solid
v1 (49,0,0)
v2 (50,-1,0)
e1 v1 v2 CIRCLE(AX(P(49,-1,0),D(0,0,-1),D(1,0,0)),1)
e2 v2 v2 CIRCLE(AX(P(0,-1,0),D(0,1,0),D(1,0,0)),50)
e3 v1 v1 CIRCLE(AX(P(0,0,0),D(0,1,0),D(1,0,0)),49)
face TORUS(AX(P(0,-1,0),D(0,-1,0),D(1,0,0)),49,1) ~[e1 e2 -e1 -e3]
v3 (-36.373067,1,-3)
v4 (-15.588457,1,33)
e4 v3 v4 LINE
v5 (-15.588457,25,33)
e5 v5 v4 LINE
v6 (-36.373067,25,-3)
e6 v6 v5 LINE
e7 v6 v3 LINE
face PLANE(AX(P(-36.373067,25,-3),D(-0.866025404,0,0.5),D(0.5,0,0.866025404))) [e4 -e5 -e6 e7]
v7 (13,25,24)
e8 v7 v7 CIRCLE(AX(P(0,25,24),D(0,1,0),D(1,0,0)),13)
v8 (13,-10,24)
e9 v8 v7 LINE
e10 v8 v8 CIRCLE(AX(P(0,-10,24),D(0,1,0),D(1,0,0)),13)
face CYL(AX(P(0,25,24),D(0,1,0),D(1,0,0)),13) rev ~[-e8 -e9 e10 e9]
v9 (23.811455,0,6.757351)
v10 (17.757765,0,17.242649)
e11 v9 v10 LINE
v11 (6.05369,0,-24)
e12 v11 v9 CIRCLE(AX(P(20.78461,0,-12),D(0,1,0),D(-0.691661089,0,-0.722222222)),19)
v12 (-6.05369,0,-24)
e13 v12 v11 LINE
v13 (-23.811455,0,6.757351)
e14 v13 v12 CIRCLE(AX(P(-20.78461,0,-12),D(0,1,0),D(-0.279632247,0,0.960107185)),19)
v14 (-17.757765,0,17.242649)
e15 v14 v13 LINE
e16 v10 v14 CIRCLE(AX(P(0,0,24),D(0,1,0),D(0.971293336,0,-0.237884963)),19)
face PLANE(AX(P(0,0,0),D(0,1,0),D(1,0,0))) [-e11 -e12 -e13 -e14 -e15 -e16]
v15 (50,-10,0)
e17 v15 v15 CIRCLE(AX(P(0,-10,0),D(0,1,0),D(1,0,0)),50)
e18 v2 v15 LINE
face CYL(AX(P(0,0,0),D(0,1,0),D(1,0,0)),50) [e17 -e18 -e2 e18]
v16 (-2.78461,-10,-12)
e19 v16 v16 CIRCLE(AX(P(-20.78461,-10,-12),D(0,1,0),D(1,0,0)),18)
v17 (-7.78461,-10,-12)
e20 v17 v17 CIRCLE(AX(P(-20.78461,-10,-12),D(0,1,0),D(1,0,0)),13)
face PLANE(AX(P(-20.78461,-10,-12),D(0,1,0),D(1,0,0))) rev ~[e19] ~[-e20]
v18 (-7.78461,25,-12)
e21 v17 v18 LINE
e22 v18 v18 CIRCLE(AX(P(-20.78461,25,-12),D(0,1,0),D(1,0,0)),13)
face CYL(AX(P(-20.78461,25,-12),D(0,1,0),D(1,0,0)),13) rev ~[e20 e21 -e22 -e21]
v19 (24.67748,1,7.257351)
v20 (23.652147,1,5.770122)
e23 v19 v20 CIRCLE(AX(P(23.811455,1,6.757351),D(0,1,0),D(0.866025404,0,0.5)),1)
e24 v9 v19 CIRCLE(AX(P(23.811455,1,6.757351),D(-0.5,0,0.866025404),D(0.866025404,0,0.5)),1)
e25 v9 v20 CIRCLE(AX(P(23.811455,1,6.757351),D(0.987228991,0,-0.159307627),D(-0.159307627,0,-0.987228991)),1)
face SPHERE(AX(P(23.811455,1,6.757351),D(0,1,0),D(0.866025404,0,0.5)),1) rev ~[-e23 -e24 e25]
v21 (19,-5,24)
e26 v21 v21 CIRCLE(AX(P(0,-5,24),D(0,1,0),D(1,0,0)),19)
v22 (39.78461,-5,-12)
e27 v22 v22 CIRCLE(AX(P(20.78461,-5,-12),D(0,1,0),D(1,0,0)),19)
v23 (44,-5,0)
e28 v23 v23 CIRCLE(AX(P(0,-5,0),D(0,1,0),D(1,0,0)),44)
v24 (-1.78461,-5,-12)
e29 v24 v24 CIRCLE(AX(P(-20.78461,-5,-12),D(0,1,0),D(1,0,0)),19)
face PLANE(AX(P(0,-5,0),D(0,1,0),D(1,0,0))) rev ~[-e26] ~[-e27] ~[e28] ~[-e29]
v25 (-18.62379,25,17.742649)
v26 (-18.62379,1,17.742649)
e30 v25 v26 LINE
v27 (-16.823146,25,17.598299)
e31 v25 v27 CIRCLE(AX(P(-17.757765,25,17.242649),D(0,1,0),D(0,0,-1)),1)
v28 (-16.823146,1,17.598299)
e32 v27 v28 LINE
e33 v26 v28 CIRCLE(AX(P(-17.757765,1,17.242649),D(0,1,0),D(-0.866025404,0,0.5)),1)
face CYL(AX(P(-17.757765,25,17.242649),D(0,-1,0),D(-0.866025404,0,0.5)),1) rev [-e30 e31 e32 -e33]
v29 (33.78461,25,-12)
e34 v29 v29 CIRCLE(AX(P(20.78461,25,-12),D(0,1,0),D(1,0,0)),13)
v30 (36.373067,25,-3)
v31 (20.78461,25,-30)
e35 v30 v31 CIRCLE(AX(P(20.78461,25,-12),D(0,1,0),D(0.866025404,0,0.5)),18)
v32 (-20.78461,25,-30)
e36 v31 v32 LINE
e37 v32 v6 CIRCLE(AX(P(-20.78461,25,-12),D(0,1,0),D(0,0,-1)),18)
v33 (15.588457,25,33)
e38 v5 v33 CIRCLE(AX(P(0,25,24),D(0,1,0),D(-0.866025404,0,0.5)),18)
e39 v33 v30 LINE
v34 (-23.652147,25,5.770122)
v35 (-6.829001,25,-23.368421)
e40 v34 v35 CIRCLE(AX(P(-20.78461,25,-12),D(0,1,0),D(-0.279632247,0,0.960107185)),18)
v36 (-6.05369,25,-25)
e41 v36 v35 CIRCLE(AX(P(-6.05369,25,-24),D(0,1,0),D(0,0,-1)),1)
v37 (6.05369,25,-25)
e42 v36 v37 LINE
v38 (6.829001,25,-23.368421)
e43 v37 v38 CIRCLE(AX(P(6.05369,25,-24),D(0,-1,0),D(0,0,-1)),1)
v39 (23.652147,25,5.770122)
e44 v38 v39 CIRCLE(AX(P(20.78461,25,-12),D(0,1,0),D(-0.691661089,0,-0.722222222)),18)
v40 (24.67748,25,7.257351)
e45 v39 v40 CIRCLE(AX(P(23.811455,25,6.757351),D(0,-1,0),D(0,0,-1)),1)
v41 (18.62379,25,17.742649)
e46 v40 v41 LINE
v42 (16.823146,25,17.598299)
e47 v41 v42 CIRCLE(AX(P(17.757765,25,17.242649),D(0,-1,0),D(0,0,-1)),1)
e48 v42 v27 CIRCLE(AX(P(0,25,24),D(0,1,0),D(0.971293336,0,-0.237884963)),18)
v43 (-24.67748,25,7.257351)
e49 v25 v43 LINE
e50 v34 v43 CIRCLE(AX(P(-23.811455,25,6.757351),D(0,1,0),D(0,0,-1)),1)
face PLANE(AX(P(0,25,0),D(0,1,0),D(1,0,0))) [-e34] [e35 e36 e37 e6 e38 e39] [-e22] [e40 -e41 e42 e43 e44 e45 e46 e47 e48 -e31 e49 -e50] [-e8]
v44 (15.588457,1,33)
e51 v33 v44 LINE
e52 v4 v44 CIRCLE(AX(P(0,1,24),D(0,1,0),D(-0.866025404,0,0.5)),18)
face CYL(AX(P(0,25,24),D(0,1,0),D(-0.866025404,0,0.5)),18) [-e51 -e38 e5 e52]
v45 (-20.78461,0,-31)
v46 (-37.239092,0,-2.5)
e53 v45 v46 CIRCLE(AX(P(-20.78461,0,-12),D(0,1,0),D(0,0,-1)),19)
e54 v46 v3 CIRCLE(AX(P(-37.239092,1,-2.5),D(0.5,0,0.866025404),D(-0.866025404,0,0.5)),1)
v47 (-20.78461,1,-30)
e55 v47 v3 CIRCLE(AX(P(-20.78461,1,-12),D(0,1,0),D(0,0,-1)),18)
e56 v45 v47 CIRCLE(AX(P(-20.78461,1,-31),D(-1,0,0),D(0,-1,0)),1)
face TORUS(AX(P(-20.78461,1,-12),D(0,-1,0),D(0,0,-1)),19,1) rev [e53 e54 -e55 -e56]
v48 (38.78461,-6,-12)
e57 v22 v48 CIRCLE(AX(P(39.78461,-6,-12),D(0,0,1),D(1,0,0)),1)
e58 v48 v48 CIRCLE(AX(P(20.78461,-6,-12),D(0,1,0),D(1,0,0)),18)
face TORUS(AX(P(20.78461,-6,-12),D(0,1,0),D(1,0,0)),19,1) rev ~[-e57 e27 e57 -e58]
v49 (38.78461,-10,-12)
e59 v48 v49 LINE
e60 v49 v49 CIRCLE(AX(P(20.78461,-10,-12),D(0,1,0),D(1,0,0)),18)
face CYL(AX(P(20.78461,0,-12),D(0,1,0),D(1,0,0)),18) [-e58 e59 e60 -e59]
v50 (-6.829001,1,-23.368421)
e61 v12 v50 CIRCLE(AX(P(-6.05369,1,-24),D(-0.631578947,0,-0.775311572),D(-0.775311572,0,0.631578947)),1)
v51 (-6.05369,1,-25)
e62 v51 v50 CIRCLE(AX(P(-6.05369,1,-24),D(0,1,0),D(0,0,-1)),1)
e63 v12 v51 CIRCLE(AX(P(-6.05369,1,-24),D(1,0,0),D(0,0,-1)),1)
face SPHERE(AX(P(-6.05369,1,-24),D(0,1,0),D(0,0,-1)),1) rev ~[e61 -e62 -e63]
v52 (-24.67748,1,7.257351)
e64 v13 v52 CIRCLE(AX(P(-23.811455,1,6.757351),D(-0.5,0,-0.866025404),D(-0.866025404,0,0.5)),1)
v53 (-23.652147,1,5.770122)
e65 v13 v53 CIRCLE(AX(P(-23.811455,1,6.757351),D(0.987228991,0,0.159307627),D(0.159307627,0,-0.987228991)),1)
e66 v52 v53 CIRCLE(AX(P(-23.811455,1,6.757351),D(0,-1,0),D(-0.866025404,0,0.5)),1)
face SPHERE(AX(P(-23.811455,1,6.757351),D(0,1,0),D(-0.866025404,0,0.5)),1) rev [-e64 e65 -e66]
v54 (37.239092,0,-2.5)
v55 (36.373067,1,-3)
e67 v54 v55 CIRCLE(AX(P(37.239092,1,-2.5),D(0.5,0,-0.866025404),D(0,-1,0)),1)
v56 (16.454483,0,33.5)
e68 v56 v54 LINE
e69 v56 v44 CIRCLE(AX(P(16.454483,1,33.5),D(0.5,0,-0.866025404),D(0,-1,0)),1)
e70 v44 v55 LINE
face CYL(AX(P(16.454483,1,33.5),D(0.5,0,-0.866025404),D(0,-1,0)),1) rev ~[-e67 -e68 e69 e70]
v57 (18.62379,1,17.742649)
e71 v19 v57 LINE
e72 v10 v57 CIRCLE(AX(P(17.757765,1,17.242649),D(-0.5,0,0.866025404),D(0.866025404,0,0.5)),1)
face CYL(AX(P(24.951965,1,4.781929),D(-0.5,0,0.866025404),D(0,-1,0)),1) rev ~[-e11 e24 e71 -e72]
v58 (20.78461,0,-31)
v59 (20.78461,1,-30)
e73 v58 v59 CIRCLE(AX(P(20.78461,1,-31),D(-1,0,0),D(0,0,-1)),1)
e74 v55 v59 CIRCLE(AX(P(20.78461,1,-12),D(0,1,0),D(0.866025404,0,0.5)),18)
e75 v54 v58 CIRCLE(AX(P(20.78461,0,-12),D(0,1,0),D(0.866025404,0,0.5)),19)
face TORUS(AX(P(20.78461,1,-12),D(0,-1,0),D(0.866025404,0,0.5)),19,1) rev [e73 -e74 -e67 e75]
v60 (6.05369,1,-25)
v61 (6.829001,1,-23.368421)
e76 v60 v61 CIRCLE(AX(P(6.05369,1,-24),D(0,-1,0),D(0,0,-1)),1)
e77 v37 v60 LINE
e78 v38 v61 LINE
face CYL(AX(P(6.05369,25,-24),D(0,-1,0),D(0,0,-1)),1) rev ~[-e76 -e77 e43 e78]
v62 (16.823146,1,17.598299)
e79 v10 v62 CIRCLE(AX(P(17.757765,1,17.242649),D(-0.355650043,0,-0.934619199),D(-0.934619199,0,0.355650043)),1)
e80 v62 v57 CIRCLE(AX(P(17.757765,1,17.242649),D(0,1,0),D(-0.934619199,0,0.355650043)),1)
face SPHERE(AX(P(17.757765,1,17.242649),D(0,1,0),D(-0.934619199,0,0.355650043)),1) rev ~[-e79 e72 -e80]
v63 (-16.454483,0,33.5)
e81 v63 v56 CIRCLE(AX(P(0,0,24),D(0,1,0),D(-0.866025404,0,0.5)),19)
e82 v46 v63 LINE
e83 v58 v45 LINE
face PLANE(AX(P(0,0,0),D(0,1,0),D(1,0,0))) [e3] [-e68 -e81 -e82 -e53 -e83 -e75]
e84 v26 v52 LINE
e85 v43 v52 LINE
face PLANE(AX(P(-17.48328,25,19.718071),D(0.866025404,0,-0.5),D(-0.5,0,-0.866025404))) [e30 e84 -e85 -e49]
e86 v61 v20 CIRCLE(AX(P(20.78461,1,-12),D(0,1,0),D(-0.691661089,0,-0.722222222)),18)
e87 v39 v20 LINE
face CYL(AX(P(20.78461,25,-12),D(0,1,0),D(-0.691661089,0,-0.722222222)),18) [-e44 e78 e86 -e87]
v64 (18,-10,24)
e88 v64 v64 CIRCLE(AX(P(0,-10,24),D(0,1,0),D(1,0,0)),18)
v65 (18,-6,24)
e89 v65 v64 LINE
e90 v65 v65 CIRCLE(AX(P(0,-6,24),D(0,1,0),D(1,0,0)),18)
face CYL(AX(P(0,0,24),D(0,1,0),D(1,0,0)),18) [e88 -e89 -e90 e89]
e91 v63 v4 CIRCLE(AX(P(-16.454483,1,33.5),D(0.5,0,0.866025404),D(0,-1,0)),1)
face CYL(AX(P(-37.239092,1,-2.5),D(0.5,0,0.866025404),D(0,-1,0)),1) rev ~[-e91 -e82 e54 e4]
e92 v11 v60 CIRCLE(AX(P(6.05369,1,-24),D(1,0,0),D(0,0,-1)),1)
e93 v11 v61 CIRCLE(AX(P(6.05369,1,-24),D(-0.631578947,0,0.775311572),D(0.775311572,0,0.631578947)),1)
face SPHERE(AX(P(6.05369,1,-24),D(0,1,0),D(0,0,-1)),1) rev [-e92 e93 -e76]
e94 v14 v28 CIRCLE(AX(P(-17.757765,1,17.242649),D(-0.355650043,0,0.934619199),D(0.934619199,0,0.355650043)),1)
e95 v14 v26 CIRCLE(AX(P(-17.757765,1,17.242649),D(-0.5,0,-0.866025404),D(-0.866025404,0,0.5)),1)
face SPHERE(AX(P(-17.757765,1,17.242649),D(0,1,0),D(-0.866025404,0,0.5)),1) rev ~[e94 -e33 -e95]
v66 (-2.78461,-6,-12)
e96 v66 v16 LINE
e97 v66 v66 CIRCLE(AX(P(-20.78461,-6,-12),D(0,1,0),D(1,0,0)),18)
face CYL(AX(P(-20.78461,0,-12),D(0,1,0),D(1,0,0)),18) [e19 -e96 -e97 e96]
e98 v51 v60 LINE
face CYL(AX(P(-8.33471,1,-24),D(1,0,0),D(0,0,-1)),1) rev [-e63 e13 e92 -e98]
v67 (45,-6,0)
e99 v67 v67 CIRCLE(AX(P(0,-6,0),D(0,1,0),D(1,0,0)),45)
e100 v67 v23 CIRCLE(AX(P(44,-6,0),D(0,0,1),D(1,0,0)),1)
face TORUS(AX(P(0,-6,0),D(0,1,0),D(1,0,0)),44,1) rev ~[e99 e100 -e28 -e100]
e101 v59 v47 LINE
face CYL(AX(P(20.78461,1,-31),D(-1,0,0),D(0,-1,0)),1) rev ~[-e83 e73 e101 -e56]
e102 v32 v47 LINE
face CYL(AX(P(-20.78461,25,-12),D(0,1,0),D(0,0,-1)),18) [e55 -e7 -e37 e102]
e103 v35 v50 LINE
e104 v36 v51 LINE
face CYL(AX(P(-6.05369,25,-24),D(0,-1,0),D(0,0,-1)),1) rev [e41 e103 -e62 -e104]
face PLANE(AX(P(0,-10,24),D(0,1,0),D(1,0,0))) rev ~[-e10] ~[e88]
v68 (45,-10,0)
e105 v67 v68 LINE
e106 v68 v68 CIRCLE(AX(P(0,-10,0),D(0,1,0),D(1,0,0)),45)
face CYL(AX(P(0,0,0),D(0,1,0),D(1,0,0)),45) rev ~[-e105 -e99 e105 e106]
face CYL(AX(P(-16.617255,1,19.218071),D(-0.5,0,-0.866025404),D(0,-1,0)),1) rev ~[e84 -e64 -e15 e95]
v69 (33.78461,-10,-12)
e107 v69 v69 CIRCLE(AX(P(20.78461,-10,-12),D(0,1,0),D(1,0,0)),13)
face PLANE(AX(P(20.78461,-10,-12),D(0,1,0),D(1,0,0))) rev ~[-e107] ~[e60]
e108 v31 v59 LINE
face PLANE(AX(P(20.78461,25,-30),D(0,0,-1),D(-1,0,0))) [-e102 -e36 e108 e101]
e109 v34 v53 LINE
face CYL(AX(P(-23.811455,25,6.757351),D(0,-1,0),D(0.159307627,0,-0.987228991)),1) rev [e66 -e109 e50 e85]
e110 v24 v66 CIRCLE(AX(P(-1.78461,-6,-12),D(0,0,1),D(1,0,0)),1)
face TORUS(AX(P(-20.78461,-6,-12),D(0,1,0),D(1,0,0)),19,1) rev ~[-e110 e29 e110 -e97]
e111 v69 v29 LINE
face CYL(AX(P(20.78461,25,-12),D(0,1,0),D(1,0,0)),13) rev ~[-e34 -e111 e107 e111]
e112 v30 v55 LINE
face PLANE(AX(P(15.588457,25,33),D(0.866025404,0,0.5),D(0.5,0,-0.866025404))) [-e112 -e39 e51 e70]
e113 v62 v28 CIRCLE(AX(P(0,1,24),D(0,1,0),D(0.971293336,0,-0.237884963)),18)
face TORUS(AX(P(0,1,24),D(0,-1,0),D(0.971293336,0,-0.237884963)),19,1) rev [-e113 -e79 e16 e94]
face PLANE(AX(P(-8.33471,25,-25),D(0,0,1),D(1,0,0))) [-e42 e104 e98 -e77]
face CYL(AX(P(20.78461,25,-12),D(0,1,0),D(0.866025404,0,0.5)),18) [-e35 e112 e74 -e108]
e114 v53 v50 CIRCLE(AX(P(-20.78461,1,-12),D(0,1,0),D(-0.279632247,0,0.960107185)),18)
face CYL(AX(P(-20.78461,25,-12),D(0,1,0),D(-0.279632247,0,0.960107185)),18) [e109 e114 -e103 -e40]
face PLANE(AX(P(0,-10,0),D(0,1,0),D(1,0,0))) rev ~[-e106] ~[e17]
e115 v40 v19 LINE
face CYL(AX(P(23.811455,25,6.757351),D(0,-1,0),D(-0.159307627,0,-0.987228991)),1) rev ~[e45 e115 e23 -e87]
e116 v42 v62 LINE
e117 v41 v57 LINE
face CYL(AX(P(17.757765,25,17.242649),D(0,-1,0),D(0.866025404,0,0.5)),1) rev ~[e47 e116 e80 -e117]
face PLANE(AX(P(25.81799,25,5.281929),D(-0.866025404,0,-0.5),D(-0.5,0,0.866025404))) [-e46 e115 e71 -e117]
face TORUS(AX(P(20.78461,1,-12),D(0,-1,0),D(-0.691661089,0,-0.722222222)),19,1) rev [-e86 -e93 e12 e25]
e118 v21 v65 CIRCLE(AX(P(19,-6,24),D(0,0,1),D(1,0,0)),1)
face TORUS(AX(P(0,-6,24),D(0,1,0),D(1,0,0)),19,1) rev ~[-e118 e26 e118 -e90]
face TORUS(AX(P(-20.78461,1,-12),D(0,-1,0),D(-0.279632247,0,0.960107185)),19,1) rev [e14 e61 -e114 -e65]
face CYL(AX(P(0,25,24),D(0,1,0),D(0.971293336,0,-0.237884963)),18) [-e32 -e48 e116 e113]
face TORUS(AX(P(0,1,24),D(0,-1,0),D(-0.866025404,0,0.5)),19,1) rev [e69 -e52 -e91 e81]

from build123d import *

# Parameters (mm, degrees)
SKETCH1_R             = 18
SKETCH1_R_2           = 13
BOSS_EXTRUDE6_DEPTH   = 10
BOSS_EXTRUDE6_2_DEPTH = 10
BOSS_EXTRUDE6_3_DEPTH = 10
SKETCH1_R_3           = 50
SKETCH1_R_4           = 45
BOSS_EXTRUDE6_4_DEPTH = 10
SKETCH1_7_R           = 45
SKETCH1_7_R_2         = 18
BOSS_EXTRUDE8_DEPTH   = 5
BOSS_EXTRUDE9_START   = 25
SKETCH1_8_R           = 13
BOSS_EXTRUDE9_DEPTH   = 25
FILLET1_R             = 1


with BuildPart() as part:
    # Sketch1 → Boss-Extrude6 (new body)
    with BuildSketch(Plane(origin=(0, 0, 0), x_dir=(1, 0, 0), z_dir=(0, 1, 0))):
        with Locations((-20.784609691, 12)):
            Circle(SKETCH1_R)
        with Locations((-20.784609691, 12)):
            Circle(SKETCH1_R_2, mode=Mode.SUBTRACT)
    extrude(amount=-BOSS_EXTRUDE6_DEPTH)



with BuildPart() as body_2:
    # Sketch1 → Boss-Extrude6 2 (new body)
    with BuildSketch(Plane(origin=(0, 0, 0), x_dir=(1, 0, 0), z_dir=(0, 1, 0))):
        with Locations((0, -24)):
            Circle(SKETCH1_R)
        with Locations((0, -24)):
            Circle(SKETCH1_R_2, mode=Mode.SUBTRACT)
    extrude(amount=-BOSS_EXTRUDE6_2_DEPTH)


with BuildPart() as body_3:
    # Sketch1 → Boss-Extrude6 3 (new body)
    with BuildSketch(Plane(origin=(0, 0, 0), x_dir=(1, 0, 0), z_dir=(0, 1, 0))):
        with Locations((20.784609691, 12)):
            Circle(SKETCH1_R)
        with Locations((20.784609691, 12)):
            Circle(SKETCH1_R_2, mode=Mode.SUBTRACT)
    extrude(amount=-BOSS_EXTRUDE6_3_DEPTH)


with BuildPart() as body_4:
    # Sketch1 → Boss-Extrude6 4 (new body)
    with BuildSketch(Plane(origin=(0, 0, 0), x_dir=(1, 0, 0), z_dir=(0, 1, 0))):
        Circle(SKETCH1_R_3)
        Circle(SKETCH1_R_4, mode=Mode.SUBTRACT)
    extrude(amount=-BOSS_EXTRUDE6_4_DEPTH)


with BuildPart() as part_1:
    add(part.part)

    add(body_2.part)  # Boss-Extrude8 merges body 2

    add(body_3.part)  # Boss-Extrude8 merges body 3

    add(body_4.part)  # Boss-Extrude8 merges body 4
    # Sketch1<7> → Boss-Extrude8 (add)
    with BuildSketch(Plane(origin=(0, 0, 0), x_dir=(1, 0, 0), z_dir=(0, 1, 0))):
        Circle(SKETCH1_7_R)
        with Locations((-20.784609691, 12)):
            Circle(SKETCH1_7_R_2, mode=Mode.SUBTRACT)
        with Locations((0, -24)):
            Circle(SKETCH1_7_R_2, mode=Mode.SUBTRACT)
        with Locations((20.784609691, 12)):
            Circle(SKETCH1_7_R_2, mode=Mode.SUBTRACT)
    extrude(amount=-BOSS_EXTRUDE8_DEPTH)

    # Sketch1<8> → Boss-Extrude9 (add)
    with BuildSketch(Plane(origin=(0, 0, 0), x_dir=(1, 0, 0), z_dir=(0, 1, 0)).offset(BOSS_EXTRUDE9_START)):
        with BuildLine():
            Line((-36.373066959, 3), (-15.588457268, -33))
            ThreePointArc((-15.588457268, -33), (0, -42), (15.588457268, -33))
            Line((15.588457268, -33), (36.373066959, 3))
            ThreePointArc((36.373066959, 3), (36.373066959, 21), (20.784609691, 30))
            Line((20.784609691, 30), (-20.784609691, 30))
            ThreePointArc((-20.784609691, 30), (-36.373066959, 21), (-36.373066959, 3))
        make_face()
        with BuildLine():
            Line((-17.483280048, -19.718070674), (-25.817990141, -5.281929326))
            ThreePointArc((-25.817990141, -5.281929326), (-5.196152423, 3), (-8.334710093, 25))
            Line((-8.334710093, 25), (8.334710093, 25))
            ThreePointArc((8.334710093, 25), (5.196152423, 3), (25.817990141, -5.281929326))
            Line((25.817990141, -5.281929326), (17.483280048, -19.718070674))
            ThreePointArc((17.483280048, -19.718070674), (0, -6), (-17.483280048, -19.718070674))
        make_face(mode=Mode.SUBTRACT)
        with Locations((-20.784609691, 12)):
            Circle(SKETCH1_8_R, mode=Mode.SUBTRACT)
        with Locations((0, -24)):
            Circle(SKETCH1_8_R, mode=Mode.SUBTRACT)
        with Locations((20.784609691, 12)):
            Circle(SKETCH1_8_R, mode=Mode.SUBTRACT)
    extrude(amount=-BOSS_EXTRUDE9_DEPTH)

    # Fillet1
    fillet1_edges = [part_1.edges().sort_by_distance(p)[0] for p in [
        (-45, -5, 0),
        (-50, 0, 0),
        (-38.784609691, -5, -12),
        (-18, -5, 24),
        (2.784609691, -5, -12),
        (-8.334710093, 12.5, -25),
        (8.334710093, 12.5, -25),
        (25.817990141, 12.5, 5.281929326),
        (17.483280048, 12.5, 19.718070674),
        (-17.483280048, 12.5, 19.718070674),
        (-25.817990141, 12.5, 5.281929326),
        (-21.650635095, 0, 12.5),
        (0, 0, 6),
        (21.650635095, 0, 12.5),
        (0, 0, -25),
        (-5.196152423, 0, -3),
        (5.196152423, 0, -3),
        (25.980762114, 0, 15),
        (-25.980762114, 0, 15),
        (0, 0, -30),
    ]]
    fillet(fillet1_edges, radius=FILLET1_R)


solid = part_1.part
